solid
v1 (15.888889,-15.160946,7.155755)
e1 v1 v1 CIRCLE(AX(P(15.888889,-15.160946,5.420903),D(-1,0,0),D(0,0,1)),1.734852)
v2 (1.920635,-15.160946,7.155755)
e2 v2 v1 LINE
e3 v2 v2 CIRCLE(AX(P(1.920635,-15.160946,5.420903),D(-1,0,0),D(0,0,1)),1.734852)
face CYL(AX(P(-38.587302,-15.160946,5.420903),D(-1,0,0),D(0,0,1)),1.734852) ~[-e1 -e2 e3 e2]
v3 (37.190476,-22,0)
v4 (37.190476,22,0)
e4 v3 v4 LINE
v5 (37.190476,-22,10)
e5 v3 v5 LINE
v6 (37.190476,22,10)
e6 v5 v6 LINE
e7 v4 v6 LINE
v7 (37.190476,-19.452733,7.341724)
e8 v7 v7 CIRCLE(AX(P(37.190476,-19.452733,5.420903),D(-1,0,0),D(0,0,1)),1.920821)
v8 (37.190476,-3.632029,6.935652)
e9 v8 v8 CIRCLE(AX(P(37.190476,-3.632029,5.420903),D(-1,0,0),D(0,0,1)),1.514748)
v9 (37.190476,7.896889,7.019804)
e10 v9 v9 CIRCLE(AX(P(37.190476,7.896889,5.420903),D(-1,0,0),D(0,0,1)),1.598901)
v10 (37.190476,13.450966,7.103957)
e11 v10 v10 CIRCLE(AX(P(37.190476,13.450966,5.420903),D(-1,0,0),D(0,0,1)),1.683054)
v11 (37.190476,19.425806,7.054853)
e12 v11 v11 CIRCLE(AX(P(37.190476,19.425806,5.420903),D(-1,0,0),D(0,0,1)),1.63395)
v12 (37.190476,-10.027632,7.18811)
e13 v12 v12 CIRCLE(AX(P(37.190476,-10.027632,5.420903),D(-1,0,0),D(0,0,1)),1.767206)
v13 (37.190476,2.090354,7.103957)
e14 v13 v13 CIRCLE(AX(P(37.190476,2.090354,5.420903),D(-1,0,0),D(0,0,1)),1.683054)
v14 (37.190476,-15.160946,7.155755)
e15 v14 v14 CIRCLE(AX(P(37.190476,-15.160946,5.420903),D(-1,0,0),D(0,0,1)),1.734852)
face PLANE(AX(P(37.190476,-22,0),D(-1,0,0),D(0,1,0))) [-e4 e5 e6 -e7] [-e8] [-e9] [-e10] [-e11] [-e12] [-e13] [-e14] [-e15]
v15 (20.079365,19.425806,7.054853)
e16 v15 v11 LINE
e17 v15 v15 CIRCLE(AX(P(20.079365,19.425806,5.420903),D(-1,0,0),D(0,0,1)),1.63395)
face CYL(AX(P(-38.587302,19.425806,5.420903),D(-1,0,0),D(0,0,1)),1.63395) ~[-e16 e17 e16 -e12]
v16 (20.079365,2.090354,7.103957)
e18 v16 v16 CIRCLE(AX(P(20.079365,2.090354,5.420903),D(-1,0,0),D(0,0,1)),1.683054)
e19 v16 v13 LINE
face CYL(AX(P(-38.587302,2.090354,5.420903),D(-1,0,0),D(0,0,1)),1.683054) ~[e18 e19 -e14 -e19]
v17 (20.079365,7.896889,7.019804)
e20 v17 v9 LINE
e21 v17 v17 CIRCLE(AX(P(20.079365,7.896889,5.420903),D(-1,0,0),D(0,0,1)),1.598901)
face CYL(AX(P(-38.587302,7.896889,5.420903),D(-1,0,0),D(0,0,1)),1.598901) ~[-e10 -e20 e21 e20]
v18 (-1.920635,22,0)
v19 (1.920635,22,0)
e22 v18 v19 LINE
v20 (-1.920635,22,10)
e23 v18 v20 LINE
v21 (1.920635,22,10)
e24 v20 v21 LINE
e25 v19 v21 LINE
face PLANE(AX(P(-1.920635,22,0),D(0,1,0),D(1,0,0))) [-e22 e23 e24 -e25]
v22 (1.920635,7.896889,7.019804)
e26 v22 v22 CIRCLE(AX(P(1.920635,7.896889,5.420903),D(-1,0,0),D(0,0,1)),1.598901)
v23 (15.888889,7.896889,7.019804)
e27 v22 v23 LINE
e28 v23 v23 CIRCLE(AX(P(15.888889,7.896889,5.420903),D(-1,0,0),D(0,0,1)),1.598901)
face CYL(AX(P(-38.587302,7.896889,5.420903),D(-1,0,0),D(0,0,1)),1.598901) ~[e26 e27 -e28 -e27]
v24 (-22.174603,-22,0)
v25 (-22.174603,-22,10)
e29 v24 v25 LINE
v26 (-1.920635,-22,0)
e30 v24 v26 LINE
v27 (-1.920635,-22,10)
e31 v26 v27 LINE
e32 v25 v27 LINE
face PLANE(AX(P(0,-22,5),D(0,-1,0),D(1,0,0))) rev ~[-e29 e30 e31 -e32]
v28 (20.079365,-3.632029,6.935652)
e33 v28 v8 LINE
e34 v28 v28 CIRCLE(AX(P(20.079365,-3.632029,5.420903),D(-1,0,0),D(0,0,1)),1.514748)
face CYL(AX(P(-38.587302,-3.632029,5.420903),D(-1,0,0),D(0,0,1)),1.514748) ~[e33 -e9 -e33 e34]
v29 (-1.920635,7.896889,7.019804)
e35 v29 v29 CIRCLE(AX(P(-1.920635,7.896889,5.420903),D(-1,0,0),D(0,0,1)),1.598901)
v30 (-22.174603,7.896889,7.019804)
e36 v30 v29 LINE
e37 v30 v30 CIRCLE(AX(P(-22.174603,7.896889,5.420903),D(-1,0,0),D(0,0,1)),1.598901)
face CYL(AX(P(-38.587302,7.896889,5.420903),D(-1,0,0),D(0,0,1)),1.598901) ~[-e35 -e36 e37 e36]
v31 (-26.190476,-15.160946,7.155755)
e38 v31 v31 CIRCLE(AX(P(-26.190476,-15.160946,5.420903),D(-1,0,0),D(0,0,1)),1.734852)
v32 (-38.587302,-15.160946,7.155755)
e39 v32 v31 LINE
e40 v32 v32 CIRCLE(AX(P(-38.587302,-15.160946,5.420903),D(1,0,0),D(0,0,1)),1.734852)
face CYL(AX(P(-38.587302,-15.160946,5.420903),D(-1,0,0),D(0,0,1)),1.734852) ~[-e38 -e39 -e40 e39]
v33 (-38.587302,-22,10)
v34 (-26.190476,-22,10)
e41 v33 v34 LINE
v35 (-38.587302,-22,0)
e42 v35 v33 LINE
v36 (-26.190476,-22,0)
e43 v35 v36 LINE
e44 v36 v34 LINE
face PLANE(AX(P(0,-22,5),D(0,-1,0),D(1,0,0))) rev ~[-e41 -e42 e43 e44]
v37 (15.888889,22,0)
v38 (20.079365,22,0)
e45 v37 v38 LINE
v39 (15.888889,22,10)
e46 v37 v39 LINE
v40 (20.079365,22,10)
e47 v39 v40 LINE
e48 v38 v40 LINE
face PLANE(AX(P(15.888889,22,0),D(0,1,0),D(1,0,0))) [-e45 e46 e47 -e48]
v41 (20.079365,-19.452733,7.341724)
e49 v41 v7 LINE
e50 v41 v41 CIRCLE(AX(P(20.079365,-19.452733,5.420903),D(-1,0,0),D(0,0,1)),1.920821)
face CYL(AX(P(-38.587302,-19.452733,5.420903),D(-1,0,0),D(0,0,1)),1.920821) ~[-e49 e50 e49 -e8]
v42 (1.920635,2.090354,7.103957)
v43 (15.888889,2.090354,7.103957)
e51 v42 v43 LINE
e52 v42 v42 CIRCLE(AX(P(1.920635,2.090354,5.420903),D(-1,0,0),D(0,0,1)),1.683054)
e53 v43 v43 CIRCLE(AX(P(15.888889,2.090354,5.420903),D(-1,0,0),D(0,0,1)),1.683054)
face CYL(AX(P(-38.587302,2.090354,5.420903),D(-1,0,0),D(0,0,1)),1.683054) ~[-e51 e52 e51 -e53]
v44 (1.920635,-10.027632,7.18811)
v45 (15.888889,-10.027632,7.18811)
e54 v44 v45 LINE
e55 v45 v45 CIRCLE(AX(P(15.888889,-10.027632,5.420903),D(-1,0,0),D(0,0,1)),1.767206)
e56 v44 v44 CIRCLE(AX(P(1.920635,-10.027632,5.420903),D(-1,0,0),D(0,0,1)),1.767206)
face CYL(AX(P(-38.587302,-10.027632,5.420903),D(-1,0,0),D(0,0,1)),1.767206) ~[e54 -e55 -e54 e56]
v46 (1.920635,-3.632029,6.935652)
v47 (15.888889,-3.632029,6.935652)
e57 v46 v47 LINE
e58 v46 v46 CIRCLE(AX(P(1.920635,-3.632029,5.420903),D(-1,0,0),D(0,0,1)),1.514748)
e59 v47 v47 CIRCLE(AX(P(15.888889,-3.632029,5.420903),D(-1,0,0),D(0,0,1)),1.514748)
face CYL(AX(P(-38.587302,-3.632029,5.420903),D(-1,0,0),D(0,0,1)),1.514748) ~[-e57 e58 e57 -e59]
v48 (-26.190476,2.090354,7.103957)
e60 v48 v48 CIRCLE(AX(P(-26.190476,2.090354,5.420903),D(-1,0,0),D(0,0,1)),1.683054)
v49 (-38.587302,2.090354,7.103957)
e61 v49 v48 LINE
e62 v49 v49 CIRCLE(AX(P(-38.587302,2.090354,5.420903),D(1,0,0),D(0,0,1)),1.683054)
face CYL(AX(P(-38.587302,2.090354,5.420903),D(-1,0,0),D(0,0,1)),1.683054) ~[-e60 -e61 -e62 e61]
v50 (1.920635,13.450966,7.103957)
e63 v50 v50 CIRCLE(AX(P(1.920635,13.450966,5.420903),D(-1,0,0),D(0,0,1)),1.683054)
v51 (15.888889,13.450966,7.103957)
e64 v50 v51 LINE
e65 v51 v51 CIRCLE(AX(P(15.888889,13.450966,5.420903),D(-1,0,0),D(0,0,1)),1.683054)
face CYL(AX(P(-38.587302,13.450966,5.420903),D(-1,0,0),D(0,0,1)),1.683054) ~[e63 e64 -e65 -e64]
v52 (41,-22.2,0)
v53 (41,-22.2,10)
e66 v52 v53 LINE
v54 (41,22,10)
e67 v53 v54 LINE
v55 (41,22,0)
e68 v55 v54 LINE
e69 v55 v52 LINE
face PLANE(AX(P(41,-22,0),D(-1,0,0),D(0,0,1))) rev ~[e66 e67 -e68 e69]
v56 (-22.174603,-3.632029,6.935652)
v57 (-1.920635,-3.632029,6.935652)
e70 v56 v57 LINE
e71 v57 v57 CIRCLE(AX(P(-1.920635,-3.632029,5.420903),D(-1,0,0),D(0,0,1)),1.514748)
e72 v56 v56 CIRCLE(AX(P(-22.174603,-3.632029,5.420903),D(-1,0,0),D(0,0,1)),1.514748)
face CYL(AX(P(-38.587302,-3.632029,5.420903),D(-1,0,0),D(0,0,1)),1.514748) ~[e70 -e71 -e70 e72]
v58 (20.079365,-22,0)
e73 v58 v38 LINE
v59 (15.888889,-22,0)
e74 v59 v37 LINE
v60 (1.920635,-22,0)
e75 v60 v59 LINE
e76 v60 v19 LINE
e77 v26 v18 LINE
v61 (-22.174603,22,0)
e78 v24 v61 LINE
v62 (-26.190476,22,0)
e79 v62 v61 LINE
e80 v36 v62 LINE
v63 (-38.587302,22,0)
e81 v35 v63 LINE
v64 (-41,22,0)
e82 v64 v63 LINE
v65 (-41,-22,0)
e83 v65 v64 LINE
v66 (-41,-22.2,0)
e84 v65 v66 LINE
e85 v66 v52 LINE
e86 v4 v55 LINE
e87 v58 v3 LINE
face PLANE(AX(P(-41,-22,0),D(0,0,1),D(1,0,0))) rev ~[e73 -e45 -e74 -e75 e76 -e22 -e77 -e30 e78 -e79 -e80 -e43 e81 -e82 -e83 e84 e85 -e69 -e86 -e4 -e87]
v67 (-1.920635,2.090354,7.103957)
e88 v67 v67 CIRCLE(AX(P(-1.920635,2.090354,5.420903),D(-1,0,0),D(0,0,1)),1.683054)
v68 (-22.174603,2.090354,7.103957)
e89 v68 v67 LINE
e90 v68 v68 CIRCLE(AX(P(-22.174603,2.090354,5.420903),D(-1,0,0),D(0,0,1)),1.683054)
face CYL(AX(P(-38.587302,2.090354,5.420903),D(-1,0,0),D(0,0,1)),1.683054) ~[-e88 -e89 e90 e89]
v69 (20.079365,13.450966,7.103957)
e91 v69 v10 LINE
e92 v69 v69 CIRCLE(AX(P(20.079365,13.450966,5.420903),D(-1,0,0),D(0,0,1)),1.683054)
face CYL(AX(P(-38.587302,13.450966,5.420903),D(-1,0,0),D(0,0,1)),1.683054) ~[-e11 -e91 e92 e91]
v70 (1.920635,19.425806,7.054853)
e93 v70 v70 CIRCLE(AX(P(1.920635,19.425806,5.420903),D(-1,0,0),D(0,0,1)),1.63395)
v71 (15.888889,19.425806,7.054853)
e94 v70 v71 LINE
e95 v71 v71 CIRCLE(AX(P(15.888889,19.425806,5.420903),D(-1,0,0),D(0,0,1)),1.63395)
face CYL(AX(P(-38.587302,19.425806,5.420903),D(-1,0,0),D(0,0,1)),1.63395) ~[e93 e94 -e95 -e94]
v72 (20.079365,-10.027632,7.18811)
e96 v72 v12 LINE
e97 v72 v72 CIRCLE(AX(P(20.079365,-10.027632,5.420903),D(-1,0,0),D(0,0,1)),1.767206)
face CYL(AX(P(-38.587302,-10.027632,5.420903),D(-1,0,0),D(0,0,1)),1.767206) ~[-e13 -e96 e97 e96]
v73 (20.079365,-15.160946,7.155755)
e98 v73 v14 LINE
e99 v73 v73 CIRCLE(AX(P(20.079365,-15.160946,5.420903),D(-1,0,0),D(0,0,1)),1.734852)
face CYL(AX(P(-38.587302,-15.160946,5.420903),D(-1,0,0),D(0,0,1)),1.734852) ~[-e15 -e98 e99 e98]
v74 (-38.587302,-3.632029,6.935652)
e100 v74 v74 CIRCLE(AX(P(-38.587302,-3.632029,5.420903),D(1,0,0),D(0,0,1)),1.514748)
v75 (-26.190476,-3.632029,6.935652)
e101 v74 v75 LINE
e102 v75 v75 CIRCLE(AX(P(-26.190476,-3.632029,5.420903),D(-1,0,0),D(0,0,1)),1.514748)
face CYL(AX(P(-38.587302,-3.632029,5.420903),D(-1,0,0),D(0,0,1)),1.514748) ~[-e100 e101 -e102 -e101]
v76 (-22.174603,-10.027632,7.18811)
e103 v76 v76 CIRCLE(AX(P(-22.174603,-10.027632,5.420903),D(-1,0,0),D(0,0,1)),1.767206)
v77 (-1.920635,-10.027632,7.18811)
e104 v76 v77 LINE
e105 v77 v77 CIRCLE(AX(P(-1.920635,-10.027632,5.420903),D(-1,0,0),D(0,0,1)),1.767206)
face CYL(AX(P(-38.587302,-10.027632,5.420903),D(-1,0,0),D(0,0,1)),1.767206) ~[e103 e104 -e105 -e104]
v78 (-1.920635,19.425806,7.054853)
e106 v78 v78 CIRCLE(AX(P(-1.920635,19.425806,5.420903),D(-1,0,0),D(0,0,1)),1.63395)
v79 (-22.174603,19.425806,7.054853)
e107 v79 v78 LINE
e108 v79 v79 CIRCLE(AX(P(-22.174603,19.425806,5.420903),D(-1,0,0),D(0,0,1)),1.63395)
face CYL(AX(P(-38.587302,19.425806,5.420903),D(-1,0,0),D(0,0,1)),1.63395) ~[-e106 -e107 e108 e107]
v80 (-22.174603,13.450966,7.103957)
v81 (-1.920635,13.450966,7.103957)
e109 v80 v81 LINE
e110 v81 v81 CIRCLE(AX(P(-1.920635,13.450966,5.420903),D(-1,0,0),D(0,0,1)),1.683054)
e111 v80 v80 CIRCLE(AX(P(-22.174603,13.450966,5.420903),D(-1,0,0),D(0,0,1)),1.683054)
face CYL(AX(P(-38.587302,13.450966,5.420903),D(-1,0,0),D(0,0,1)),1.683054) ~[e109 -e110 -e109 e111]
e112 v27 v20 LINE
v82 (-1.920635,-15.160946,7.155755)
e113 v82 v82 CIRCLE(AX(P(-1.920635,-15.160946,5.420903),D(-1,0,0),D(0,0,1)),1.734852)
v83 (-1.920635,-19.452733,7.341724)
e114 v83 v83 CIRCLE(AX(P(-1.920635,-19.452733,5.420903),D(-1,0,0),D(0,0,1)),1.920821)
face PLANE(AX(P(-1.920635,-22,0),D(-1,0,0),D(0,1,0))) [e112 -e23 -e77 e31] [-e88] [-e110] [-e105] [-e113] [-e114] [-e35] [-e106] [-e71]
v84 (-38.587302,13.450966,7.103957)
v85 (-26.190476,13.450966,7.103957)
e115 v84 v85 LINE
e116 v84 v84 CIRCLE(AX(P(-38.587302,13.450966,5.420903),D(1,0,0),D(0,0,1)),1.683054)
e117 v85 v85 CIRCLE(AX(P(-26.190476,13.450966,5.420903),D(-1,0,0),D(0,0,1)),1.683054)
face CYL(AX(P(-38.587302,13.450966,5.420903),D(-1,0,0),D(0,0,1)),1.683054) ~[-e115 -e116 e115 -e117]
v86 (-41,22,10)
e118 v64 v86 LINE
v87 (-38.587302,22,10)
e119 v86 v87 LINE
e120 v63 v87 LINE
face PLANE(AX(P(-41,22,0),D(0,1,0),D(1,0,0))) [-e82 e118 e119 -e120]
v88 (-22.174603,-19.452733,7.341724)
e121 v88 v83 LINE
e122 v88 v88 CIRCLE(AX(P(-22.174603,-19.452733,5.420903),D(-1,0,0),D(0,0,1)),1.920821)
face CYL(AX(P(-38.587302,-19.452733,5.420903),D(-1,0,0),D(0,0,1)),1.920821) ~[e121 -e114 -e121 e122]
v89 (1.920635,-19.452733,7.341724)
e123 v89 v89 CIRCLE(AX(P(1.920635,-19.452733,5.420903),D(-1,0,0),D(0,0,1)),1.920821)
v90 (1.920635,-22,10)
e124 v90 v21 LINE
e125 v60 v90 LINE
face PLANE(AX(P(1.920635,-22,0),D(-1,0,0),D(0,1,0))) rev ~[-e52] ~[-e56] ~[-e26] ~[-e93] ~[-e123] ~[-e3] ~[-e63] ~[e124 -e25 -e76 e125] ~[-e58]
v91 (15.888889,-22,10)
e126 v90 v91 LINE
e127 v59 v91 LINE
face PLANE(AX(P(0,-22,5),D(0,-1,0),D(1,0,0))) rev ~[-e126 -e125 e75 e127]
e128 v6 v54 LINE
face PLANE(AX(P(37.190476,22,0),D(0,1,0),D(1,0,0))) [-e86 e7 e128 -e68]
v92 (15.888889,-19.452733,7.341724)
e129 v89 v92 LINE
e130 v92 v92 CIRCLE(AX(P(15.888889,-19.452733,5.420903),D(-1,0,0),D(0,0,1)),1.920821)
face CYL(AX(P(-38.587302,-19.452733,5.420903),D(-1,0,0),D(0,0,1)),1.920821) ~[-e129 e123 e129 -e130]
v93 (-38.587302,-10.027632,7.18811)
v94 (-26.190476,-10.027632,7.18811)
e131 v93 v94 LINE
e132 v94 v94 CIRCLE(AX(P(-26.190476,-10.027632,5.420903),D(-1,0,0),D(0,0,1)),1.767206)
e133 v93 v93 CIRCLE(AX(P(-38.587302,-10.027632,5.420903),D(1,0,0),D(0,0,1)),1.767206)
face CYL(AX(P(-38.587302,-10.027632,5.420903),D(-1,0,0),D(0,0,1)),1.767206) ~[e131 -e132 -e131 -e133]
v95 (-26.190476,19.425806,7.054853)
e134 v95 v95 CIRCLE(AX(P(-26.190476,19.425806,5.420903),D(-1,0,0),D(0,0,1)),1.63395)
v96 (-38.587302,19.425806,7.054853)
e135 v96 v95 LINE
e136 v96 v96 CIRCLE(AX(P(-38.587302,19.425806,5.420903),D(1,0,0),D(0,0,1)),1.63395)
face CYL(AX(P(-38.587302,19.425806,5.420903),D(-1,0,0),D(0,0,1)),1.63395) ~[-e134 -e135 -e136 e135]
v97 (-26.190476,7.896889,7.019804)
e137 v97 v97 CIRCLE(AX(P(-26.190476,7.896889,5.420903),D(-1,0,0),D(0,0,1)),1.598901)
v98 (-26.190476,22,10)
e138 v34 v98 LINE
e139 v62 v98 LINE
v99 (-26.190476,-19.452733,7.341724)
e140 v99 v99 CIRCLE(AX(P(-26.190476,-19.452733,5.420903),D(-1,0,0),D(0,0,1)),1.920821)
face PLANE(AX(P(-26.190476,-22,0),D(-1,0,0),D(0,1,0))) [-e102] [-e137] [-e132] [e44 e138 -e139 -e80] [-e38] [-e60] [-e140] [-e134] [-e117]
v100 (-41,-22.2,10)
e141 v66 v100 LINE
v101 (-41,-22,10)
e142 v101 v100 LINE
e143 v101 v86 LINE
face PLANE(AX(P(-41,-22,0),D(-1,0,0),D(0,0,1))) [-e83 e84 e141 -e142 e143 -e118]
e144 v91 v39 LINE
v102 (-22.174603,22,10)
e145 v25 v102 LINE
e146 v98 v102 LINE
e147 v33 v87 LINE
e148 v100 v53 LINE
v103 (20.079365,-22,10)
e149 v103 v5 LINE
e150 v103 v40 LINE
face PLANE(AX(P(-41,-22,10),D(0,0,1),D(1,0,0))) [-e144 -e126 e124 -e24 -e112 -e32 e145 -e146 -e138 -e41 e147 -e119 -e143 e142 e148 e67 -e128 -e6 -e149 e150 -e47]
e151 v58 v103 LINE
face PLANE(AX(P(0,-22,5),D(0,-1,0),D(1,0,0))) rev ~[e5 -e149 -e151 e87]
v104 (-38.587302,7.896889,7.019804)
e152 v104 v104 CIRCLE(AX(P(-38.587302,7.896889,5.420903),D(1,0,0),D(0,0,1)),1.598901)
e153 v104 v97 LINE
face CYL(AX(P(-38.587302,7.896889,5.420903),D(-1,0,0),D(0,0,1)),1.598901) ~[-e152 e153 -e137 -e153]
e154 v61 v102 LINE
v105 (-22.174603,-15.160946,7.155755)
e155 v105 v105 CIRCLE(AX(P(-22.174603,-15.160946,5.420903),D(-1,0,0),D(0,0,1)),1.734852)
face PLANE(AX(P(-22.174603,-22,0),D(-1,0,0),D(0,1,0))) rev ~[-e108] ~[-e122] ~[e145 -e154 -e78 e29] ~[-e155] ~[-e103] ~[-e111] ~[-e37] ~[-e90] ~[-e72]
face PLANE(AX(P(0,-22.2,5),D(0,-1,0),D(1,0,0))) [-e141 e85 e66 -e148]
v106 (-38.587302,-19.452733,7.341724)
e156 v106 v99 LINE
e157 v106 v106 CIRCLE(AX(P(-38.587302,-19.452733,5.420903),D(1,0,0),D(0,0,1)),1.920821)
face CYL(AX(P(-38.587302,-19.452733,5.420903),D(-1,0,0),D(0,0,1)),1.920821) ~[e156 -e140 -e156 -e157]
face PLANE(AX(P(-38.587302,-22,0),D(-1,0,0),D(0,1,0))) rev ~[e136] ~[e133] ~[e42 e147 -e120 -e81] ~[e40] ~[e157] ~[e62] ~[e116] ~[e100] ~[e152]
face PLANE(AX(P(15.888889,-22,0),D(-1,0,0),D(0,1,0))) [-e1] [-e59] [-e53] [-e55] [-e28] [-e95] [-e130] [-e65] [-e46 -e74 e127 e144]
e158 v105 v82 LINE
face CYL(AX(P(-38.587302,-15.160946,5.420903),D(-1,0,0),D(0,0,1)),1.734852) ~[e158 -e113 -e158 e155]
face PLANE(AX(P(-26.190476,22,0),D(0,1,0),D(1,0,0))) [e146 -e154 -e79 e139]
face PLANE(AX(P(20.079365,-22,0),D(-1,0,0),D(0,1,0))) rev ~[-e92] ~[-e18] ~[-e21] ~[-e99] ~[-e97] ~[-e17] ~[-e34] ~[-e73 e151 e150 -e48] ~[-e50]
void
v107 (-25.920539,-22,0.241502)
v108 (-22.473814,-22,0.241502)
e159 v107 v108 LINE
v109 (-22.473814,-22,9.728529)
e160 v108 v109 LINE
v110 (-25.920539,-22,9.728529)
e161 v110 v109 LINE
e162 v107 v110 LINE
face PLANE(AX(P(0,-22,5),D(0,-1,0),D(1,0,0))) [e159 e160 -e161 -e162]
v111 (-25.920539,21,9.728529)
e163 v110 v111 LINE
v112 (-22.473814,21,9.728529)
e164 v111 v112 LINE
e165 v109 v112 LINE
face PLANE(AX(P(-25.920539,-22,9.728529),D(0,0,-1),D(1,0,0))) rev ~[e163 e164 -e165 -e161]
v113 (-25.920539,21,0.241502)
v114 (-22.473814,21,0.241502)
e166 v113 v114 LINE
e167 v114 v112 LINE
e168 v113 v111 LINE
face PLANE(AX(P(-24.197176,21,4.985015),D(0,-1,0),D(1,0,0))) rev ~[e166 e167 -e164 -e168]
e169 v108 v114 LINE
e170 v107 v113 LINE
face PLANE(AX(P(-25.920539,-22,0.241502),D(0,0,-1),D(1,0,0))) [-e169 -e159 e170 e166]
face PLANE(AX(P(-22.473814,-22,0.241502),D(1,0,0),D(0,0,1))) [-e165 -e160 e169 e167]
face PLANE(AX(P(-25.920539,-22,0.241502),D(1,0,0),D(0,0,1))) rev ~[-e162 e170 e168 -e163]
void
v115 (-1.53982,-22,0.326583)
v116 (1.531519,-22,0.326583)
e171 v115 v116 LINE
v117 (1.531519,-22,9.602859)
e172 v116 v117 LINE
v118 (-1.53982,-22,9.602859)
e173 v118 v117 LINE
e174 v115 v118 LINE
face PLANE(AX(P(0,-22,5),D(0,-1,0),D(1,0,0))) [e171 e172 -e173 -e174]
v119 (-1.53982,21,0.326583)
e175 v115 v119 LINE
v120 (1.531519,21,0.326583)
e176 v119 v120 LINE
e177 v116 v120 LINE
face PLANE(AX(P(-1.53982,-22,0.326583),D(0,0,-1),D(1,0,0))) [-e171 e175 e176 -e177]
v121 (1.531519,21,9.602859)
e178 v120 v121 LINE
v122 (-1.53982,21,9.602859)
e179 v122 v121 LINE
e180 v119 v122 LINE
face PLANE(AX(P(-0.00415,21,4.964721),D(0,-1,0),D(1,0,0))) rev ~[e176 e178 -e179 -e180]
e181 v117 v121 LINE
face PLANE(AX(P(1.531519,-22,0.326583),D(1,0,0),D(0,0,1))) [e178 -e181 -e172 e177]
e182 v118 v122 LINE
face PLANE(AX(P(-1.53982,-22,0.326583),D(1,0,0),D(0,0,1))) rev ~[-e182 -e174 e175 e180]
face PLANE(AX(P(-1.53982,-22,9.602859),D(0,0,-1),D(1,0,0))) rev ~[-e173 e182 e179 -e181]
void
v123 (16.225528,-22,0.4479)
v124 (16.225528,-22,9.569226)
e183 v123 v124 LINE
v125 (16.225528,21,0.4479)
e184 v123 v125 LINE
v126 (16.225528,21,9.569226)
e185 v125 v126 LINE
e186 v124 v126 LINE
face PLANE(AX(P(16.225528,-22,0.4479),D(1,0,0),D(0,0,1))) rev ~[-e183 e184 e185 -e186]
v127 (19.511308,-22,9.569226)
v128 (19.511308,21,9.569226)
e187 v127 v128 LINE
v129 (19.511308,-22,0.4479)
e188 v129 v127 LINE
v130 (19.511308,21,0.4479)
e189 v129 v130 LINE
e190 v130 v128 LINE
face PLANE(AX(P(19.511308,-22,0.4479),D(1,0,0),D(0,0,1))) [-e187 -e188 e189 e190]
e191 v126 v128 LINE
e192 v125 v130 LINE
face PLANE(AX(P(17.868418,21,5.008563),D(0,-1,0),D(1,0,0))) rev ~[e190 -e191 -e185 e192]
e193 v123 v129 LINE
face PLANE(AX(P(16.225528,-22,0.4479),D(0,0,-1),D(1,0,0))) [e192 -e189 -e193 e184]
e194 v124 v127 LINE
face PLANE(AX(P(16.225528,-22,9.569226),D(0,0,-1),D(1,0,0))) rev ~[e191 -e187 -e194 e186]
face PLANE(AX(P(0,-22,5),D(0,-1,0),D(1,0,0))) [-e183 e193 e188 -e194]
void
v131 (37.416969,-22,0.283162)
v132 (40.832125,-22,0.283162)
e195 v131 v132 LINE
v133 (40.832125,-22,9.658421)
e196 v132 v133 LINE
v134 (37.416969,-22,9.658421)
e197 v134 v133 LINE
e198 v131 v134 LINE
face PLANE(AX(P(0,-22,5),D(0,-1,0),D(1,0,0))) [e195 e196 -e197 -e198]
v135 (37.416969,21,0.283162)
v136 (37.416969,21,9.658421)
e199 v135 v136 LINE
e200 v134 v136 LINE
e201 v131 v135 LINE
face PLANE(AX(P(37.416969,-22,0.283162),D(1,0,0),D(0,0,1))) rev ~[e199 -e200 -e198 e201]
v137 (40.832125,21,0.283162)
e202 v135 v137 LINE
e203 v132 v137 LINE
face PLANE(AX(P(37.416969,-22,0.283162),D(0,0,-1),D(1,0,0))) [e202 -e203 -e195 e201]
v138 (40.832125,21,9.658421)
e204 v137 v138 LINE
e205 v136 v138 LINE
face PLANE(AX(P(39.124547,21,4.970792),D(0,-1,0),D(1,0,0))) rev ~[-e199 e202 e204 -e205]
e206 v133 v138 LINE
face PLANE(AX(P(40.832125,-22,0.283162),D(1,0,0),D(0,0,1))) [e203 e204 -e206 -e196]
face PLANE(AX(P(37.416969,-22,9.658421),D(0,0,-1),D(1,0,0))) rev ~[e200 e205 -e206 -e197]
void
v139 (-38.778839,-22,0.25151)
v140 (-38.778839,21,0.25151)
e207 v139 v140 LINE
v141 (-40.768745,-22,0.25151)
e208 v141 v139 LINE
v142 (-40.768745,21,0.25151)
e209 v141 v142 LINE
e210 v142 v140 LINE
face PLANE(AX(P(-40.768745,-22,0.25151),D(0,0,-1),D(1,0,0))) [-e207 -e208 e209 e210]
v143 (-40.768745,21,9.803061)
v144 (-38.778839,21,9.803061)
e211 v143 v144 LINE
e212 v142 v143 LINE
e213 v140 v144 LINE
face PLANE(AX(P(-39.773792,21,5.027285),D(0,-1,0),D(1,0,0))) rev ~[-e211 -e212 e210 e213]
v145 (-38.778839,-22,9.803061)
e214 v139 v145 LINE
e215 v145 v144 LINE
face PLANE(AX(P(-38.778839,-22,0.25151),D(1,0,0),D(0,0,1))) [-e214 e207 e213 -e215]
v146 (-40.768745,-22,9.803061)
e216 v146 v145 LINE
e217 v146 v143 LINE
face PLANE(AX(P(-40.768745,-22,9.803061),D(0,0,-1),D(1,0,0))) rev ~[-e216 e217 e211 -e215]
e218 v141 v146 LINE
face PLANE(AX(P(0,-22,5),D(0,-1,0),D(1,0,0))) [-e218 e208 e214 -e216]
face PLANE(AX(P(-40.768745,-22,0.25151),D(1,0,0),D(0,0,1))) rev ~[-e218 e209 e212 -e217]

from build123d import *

# Parameters (mm, degrees)
SKETCH1_W             = 2.412698413
SKETCH1_H             = 44
BOSS_EXTRUDE1_DEPTH   = 10
SKETCH1_W_2           = 4.015873015
BOSS_EXTRUDE1_2_DEPTH = 10
SKETCH1_W_3           = 4.19047619
BOSS_EXTRUDE1_3_DEPTH = 10
SKETCH1_W_4           = 3.80952381
BOSS_EXTRUDE1_4_DEPTH = 10
SKETCH1_W_5           = 3.841269842
BOSS_EXTRUDE1_5_DEPTH = 10
SKETCH2_R             = 1.633949522
SKETCH2_R_2           = 1.683053635
SKETCH2_R_3           = 1.598900953
SKETCH2_R_4           = 1.514748271
SKETCH2_R_5           = 1.767206317
SKETCH2_R_6           = 1.734851978
SKETCH2_R_7           = 1.920820677
BOSS_EXTRUDE2_DEPTH   = 79
SKETCH3_W             = 3.415155575
SKETCH3_H             = 9.375258814
CUT_EXTRUDE1_DEPTH    = 43
SKETCH4_W             = 3.285780113
SKETCH4_H             = 9.121325595
CUT_EXTRUDE2_DEPTH    = 43
SKETCH5_W             = 3.071339727
SKETCH5_H             = 9.276276067
CUT_EXTRUDE3_DEPTH    = 43
SKETCH6_W             = 3.446725694
SKETCH6_H             = 9.487027157
CUT_EXTRUDE4_DEPTH    = 43
SKETCH7_W             = 1.989906413
SKETCH7_H             = 9.551550778
CUT_EXTRUDE5_DEPTH    = 43
SKETCH8_W             = 82
SKETCH8_H             = 10
BOSS_EXTRUDE3_DEPTH   = 0.2


with BuildPart() as part:
    # Sketch1 → Boss-Extrude1 (new body)
    with BuildSketch(Plane.XY):
        with Locations((-39.793650793, 0)):
            Rectangle(SKETCH1_W, SKETCH1_H)
    extrude(amount=BOSS_EXTRUDE1_DEPTH)



with BuildPart() as body_2:
    # Sketch1 → Boss-Extrude1 2 (new body)
    with BuildSketch(Plane.XY):
        with Locations((-24.182539682, 0)):
            Rectangle(SKETCH1_W_2, SKETCH1_H)
    extrude(amount=BOSS_EXTRUDE1_2_DEPTH)


with BuildPart() as body_3:
    # Sketch1 → Boss-Extrude1 3 (new body)
    with BuildSketch(Plane.XY):
        with Locations((17.984126984, 0)):
            Rectangle(SKETCH1_W_3, SKETCH1_H)
    extrude(amount=BOSS_EXTRUDE1_3_DEPTH)


with BuildPart() as body_4:
    # Sketch1 → Boss-Extrude1 4 (new body)
    with BuildSketch(Plane.XY):
        with Locations((39.095238095, 0)):
            Rectangle(SKETCH1_W_4, SKETCH1_H)
    extrude(amount=BOSS_EXTRUDE1_4_DEPTH)


with BuildPart() as body_5:
    # Sketch1 → Boss-Extrude1 5 (new body)
    with BuildSketch(Plane.XY):
        Rectangle(SKETCH1_W_5, SKETCH1_H)
    extrude(amount=BOSS_EXTRUDE1_5_DEPTH)


with BuildPart() as part_1:
    add(part.part)

    add(body_2.part)  # Boss-Extrude2 merges body 2

    add(body_3.part)  # Boss-Extrude2 merges body 3

    add(body_4.part)  # Boss-Extrude2 merges body 4

    add(body_5.part)  # Boss-Extrude2 merges body 5
    # Sketch2 → Boss-Extrude2 (add)
    with BuildSketch(Plane(origin=(-38.587301587, 0, 0), x_dir=(0, 0, -1), z_dir=(1, 0, 0))):
        with Locations(Location((-5.420903309, 19.425806282, 0), (0, 0, 180))):
            Circle(SKETCH2_R)
        with Locations(Location((-5.420903309, 13.450965878, 0), (0, 0, 180))):
            Circle(SKETCH2_R_2)
        with Locations(Location((-5.420903309, 7.896888883, 0), (0, 0, 180))):
            Circle(SKETCH2_R_3)
        with Locations(Location((-5.420903309, 2.090353843, 0), (0, 0, 180))):
            Circle(SKETCH2_R_2)
        with Locations(Location((-5.420903309, -3.632028516, 0), (0, 0, 180))):
            Circle(SKETCH2_R_4)
        with Locations(Location((-5.420903309, -10.027632329, 0), (0, 0, 180))):
            Circle(SKETCH2_R_5)
        with Locations(Location((-5.420903309, -15.160945915, 0), (0, 0, 180))):
            Circle(SKETCH2_R_6)
        with Locations(Location((-5.420903309, -19.452732684, 0), (0, 0, 180))):
            Circle(SKETCH2_R_7)
    extrude(amount=BOSS_EXTRUDE2_DEPTH)

    # Sketch3 → Cut-Extrude1 (cut)
    with BuildSketch(Plane.XZ.offset(22)):
        with Locations((39.124547019, 4.970791564)):
            Rectangle(SKETCH3_W, SKETCH3_H)
    extrude(amount=-CUT_EXTRUDE1_DEPTH, mode=Mode.SUBTRACT)

    # Sketch4 → Cut-Extrude2 (cut)
    with BuildSketch(Plane.XZ.offset(22)):
        with Locations((17.868418128, 5.008563078)):
            Rectangle(SKETCH4_W, SKETCH4_H)
    extrude(amount=-CUT_EXTRUDE2_DEPTH, mode=Mode.SUBTRACT)

    # Sketch5 → Cut-Extrude3 (cut)
    with BuildSketch(Plane.XZ.offset(22)):
        with Locations((-0.004150459, 4.964721098)):
            Rectangle(SKETCH5_W, SKETCH5_H)
    extrude(amount=-CUT_EXTRUDE3_DEPTH, mode=Mode.SUBTRACT)

    # Sketch6 → Cut-Extrude4 (cut)
    with BuildSketch(Plane.XZ.offset(22)):
        with Locations((-24.197176497, 4.985015311)):
            Rectangle(SKETCH6_W, SKETCH6_H)
    extrude(amount=-CUT_EXTRUDE4_DEPTH, mode=Mode.SUBTRACT)

    # Sketch7 → Cut-Extrude5 (cut)
    with BuildSketch(Plane.XZ.offset(22)):
        with Locations((-39.773791775, 5.027285399)):
            Rectangle(SKETCH7_W, SKETCH7_H)
    extrude(amount=-CUT_EXTRUDE5_DEPTH, mode=Mode.SUBTRACT)

    # Sketch8 → Boss-Extrude3 (add)
    with BuildSketch(Plane.XZ.offset(22)):
        with Locations((0, 5)):
            Rectangle(SKETCH8_W, SKETCH8_H)
    extrude(amount=BOSS_EXTRUDE3_DEPTH)


solid = part_1.part
